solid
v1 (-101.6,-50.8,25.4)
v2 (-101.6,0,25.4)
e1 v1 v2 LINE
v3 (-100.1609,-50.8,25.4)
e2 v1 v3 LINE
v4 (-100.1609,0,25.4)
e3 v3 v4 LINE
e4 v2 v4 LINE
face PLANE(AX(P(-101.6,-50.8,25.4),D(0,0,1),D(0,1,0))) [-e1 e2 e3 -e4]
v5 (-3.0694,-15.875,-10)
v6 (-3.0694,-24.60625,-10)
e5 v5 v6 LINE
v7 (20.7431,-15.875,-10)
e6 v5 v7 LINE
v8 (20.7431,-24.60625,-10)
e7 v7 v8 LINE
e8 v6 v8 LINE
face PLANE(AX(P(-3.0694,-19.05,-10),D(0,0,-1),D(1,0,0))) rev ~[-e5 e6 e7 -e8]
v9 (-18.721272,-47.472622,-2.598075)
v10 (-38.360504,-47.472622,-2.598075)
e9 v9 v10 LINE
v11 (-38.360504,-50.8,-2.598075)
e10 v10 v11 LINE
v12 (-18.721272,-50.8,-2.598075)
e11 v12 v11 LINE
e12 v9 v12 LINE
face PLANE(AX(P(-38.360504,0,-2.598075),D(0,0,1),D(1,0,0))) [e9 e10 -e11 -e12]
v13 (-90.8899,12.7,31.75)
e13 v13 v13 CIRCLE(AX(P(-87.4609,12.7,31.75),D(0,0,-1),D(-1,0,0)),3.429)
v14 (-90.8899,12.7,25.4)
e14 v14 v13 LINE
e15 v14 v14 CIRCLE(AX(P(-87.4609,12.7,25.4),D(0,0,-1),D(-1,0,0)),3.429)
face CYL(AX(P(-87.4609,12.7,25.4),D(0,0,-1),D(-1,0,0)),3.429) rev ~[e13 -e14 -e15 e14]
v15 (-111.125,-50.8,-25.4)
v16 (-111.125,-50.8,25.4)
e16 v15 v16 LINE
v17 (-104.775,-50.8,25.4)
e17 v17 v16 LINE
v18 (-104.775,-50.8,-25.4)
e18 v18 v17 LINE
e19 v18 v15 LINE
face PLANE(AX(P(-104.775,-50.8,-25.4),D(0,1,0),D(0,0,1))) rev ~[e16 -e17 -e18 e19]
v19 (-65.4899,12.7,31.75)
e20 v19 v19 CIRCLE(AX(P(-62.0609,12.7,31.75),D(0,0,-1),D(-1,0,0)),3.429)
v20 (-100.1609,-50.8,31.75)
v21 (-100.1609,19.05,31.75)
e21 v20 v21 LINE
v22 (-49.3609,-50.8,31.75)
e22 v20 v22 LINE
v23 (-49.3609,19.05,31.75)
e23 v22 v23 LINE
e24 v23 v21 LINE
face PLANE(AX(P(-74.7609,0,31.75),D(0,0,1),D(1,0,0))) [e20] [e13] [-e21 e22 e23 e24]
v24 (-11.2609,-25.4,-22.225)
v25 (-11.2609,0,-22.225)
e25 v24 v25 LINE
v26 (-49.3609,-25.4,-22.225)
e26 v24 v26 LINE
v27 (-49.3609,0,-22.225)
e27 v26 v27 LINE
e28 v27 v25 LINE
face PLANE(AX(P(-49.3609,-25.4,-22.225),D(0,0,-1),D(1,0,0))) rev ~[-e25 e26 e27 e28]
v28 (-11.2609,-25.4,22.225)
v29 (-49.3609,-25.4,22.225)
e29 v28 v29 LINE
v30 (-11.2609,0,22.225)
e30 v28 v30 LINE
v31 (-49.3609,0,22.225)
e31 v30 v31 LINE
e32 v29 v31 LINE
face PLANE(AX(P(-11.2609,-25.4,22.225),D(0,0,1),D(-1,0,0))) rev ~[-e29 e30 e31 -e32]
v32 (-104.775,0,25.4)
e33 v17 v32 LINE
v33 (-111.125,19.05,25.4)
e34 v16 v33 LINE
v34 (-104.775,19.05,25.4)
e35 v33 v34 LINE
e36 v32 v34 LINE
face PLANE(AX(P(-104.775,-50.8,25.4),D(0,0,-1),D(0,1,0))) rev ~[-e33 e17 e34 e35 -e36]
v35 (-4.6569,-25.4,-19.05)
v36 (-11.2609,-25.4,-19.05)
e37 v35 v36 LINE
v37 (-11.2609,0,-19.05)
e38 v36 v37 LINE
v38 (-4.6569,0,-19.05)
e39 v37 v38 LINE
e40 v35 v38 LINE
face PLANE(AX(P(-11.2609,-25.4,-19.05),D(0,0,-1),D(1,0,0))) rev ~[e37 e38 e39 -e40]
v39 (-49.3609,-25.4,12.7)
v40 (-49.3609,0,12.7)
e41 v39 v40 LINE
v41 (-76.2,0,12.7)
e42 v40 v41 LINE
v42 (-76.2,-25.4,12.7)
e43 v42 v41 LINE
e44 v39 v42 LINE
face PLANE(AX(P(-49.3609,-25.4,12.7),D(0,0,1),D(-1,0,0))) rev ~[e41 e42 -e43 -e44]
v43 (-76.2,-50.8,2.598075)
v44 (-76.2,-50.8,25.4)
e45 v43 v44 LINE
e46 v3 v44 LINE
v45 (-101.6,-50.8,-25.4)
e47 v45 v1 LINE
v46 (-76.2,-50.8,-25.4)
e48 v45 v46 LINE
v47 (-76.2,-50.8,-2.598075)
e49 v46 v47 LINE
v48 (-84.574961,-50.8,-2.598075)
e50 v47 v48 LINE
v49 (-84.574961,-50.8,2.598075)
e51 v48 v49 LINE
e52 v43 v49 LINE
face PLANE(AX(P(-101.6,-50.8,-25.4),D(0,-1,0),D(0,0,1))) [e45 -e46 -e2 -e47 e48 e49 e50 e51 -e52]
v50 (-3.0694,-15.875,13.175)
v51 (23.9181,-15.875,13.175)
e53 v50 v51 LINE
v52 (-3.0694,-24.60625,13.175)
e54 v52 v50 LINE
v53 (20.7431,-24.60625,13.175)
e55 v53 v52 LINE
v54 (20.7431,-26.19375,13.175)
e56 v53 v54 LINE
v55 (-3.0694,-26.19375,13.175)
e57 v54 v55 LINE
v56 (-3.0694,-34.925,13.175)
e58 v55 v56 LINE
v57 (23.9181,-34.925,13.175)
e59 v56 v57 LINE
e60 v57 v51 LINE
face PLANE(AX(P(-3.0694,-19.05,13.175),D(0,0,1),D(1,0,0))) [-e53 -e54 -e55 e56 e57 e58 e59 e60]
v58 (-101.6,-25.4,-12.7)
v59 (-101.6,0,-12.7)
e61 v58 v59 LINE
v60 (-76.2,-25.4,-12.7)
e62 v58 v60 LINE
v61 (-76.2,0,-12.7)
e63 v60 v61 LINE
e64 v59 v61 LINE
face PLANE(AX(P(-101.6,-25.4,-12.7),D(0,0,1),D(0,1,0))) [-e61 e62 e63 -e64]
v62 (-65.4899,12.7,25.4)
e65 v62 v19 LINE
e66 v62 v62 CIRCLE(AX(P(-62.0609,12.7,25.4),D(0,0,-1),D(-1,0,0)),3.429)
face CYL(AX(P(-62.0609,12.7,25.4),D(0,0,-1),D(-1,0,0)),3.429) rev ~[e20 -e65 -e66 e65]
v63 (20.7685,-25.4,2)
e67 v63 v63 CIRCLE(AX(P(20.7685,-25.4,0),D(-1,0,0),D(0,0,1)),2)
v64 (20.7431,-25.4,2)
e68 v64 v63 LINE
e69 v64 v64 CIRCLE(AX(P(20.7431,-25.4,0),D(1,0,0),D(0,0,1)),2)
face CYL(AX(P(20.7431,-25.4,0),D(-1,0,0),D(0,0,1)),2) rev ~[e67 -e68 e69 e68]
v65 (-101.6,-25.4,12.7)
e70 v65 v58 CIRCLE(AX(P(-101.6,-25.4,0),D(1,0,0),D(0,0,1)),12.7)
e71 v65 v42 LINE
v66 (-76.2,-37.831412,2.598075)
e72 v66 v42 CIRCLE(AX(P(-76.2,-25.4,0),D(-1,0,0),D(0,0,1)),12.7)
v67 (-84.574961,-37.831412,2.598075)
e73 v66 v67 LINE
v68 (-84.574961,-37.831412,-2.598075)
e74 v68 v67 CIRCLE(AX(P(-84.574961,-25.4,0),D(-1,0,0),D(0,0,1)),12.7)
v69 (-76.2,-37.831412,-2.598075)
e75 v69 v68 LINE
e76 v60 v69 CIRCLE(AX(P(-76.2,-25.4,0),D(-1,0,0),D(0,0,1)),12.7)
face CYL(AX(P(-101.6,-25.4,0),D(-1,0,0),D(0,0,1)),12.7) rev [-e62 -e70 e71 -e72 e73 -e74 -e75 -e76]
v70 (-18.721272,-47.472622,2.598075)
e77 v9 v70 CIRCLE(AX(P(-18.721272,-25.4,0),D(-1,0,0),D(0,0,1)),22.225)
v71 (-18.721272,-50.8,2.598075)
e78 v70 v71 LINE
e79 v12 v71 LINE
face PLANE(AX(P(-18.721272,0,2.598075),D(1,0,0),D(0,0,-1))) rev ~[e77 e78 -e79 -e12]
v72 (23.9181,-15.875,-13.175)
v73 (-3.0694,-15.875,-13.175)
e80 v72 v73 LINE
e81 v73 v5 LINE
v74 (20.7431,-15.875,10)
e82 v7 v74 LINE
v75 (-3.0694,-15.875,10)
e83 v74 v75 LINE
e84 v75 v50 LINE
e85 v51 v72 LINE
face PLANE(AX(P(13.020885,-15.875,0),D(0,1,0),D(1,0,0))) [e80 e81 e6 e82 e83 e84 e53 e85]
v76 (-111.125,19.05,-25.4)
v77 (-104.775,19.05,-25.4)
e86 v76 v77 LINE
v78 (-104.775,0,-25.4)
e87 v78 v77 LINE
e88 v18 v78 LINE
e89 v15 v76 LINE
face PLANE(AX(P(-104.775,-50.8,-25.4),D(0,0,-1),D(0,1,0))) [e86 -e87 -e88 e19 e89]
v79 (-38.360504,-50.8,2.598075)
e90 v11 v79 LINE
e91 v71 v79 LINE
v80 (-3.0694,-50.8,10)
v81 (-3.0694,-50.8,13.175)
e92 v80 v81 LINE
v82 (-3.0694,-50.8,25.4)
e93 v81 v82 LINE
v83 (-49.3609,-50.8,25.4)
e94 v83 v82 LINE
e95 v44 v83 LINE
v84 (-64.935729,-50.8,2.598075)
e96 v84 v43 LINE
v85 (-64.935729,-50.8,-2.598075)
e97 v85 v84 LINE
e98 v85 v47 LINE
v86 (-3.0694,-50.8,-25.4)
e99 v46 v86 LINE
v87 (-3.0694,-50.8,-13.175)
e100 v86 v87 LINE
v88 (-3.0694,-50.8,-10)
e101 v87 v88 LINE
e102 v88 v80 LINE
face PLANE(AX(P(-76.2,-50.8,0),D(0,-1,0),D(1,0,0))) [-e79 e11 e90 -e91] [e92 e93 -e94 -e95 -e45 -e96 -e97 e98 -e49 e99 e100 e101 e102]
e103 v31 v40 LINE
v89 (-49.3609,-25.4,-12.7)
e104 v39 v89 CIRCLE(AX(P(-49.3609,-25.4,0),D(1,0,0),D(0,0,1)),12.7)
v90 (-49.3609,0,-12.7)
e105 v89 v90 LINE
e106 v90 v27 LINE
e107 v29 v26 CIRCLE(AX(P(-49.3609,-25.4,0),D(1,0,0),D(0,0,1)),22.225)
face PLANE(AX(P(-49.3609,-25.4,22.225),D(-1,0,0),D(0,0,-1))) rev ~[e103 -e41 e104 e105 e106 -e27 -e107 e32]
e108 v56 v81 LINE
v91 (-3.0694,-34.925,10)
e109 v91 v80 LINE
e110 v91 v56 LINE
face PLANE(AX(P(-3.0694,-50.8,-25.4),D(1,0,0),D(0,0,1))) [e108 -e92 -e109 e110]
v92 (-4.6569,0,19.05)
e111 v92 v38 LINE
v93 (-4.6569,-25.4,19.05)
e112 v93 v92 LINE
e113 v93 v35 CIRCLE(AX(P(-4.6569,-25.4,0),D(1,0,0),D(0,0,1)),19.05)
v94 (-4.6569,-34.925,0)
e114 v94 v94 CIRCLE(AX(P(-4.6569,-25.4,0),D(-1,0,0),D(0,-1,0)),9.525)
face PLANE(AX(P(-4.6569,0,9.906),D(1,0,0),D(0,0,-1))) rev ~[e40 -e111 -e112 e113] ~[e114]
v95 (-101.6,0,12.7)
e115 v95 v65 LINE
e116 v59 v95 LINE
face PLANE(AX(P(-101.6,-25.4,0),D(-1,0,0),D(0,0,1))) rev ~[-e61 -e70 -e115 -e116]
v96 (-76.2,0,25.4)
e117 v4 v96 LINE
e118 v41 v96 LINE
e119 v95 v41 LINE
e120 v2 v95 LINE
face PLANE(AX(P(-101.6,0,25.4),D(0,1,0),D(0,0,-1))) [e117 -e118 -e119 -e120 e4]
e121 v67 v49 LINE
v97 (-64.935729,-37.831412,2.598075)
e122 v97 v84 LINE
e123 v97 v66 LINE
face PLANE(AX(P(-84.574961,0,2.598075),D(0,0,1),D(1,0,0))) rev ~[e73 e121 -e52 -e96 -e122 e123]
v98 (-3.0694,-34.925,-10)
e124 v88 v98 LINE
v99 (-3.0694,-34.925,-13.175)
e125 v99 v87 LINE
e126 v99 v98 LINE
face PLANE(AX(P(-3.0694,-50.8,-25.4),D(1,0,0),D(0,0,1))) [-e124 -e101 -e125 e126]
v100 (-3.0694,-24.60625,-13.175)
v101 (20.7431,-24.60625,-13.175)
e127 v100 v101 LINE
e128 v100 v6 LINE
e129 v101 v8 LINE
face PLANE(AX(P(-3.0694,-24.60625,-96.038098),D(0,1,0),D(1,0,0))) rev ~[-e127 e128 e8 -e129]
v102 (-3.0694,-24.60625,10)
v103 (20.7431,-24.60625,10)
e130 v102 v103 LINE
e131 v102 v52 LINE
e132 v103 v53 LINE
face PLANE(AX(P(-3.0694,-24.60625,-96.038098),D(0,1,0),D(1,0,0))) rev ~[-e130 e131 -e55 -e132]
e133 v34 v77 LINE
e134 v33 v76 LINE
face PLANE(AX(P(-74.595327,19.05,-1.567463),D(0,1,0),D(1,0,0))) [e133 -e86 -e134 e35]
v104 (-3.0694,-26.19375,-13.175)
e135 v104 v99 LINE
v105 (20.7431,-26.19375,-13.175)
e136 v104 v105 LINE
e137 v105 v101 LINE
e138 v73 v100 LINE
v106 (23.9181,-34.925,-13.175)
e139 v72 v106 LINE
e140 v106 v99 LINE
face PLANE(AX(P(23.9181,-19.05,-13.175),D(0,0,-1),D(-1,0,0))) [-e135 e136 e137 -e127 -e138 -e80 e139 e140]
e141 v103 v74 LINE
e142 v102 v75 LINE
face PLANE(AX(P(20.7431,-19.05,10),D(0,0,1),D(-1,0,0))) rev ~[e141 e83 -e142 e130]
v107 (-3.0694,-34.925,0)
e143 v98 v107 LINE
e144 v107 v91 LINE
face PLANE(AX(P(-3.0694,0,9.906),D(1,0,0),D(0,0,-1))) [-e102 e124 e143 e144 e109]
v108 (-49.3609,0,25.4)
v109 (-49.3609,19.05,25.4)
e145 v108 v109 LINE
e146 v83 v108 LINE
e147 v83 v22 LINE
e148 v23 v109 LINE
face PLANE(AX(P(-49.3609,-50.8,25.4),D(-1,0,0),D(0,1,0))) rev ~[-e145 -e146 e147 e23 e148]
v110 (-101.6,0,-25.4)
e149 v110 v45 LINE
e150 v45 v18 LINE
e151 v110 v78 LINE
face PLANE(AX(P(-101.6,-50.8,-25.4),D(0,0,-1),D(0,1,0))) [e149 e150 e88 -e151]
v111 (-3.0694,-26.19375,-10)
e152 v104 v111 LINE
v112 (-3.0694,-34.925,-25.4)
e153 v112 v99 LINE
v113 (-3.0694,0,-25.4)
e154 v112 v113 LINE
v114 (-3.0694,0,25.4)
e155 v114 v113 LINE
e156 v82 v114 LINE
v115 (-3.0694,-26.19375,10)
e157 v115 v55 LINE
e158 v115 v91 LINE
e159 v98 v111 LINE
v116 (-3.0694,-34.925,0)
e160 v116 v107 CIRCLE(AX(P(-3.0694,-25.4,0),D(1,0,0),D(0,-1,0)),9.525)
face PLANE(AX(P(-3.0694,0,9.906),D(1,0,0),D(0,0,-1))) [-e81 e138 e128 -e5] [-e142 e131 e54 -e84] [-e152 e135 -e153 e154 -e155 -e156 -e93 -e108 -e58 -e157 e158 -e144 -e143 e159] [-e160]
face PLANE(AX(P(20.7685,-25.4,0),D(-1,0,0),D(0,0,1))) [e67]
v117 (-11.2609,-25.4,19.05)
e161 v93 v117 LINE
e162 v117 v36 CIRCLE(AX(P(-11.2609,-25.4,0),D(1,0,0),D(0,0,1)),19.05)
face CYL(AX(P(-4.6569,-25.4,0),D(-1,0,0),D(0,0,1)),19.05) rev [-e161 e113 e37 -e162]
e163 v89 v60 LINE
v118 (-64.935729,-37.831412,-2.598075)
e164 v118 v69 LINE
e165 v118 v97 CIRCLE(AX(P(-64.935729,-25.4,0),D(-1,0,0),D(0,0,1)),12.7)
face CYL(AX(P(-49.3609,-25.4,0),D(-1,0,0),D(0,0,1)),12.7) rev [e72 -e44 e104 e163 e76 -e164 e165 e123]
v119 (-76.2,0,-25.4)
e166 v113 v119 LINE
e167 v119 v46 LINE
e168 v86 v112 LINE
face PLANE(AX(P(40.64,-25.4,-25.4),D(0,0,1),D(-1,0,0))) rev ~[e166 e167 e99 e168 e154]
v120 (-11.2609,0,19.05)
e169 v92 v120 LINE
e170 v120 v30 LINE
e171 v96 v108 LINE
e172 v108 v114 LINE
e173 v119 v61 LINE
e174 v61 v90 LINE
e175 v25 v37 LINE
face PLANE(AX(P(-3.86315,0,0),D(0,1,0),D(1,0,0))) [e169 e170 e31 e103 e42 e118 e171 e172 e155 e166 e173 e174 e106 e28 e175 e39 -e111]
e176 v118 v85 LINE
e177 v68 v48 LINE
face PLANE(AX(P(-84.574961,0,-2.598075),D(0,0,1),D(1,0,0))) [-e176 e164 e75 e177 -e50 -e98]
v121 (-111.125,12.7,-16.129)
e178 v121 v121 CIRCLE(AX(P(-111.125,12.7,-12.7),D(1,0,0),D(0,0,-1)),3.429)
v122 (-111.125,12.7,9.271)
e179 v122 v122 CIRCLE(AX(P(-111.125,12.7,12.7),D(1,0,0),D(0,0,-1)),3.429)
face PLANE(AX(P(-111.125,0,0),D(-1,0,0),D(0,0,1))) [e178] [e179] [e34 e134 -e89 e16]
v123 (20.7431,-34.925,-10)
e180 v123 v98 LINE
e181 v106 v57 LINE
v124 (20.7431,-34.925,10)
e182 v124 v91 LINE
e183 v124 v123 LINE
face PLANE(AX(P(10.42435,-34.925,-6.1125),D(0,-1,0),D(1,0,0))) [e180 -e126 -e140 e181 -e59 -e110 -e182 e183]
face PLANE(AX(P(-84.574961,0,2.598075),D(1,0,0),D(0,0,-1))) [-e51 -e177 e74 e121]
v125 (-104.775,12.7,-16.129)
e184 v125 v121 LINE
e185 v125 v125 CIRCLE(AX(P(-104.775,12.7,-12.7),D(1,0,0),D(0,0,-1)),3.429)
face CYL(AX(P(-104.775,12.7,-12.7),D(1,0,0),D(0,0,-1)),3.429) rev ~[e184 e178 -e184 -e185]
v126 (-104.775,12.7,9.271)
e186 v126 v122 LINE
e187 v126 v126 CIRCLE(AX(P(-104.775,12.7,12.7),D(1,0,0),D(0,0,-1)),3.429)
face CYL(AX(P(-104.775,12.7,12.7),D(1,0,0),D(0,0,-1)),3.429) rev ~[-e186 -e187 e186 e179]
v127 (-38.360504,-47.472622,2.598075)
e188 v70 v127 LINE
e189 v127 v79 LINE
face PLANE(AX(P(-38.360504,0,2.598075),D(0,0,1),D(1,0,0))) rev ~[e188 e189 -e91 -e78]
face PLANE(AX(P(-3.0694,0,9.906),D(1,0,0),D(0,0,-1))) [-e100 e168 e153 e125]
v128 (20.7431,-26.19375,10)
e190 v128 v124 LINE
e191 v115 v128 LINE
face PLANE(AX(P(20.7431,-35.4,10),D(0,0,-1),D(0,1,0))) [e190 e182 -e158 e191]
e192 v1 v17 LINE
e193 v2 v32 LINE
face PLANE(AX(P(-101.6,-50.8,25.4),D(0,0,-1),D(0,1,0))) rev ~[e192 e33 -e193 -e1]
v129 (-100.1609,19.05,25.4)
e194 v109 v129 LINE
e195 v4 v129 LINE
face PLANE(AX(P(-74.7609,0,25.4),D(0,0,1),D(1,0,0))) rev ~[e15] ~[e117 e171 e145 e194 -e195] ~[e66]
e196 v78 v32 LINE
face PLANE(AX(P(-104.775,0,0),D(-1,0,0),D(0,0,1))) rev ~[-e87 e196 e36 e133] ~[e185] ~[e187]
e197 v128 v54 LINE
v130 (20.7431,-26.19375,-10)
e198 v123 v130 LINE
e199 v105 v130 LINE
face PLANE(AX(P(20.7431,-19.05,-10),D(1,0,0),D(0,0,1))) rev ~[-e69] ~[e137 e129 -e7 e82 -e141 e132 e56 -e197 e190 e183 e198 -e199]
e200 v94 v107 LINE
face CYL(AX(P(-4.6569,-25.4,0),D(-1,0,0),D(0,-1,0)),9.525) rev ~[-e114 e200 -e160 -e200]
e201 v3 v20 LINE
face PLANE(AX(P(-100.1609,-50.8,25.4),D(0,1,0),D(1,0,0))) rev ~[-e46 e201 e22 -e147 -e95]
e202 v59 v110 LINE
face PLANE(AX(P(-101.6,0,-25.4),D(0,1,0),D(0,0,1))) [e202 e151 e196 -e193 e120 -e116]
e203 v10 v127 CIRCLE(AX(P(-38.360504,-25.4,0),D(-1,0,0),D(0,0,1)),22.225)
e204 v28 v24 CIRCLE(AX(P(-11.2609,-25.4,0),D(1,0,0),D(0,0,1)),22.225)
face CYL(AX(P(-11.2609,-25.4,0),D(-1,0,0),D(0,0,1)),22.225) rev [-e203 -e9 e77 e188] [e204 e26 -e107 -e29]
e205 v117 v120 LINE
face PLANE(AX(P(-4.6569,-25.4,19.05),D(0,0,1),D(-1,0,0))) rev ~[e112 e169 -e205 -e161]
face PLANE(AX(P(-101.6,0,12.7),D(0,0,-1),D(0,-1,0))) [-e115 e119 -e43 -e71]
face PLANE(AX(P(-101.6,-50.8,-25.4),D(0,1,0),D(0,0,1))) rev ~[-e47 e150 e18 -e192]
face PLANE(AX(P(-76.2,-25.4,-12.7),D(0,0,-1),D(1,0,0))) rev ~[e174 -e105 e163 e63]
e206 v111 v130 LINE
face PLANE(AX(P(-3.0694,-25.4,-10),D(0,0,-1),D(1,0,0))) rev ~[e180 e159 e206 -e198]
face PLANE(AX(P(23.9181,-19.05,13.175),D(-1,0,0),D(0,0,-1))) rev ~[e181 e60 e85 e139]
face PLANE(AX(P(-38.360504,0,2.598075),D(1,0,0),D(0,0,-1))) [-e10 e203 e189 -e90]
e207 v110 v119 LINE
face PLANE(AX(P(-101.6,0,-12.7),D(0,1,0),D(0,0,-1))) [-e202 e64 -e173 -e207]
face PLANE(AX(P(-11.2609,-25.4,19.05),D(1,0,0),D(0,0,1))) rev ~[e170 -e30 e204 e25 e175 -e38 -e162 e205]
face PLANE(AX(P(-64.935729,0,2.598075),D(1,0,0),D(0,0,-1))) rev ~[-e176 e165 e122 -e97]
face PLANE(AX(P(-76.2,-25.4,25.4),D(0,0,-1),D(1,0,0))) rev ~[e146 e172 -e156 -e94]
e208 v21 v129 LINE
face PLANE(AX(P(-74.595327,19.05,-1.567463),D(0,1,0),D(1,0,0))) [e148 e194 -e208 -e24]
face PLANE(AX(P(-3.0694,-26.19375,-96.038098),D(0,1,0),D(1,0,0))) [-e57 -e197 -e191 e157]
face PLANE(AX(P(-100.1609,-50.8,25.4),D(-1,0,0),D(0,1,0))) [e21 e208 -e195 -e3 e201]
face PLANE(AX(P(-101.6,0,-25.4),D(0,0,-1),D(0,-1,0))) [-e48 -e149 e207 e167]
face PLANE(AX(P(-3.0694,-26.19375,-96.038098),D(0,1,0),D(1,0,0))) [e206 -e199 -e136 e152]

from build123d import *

# Parameters (mm, degrees)
SKETCH1_W                = 116.84
SKETCH1_H                = 50.8
BOSS_EXTRUDE1_DEPTH      = 25.4
SKETCH38_W               = 20
SKETCH38_H               = 20
CUT_EXTRUDE33_DEPTH      = 23.8125
SKETCH37_W               = 50.8
SKETCH37_H               = 25.4
CUT_EXTRUDE32_DEPTH      = 130.912992422
BOSS_EXTRUDE5_DEPTH      = 25.4
CUT_EXTRUDE54_DEPTH      = 96.038097624
CUT_EXTRUDE54_DEPTH_BACK = 96.038097624
SKETCH45_W               = 43.7094
SKETCH45_H               = 19.05
SKETCH53_R               = 2
CUT_EXTRUDE46_DEPTH      = 0.0254
CUT_EXTRUDE55_DEPTH      = 87.36933773
SKETCH61_R               = 9.906
SKETCH61_R_2             = 9.525
BOSS_EXTRUDE11_DEPTH     = 1.5875
BOSS_EXTRUDE17_REACH     = 97.038
SKETCH70_W               = 1.5875
SKETCH70_H               = 19.812
SKETCH76_W               = 23.8125
SKETCH76_H               = 20
CUT_EXTRUDE58_DEPTH      = 88.776762301
CUT_EXTRUDE59_DEPTH      = 96.038097624
CUT_EXTRUDE59_DEPTH_BACK = 96.038097624
SKETCH77_W               = 23.8125
SKETCH77_H               = 1.5875
BOSS_EXTRUDE24_DEPTH     = 3.175
BOSS_EXTRUDE18_START     = 25.4
BOSS_EXTRUDE18_DEPTH     = 25.4
SKETCH79_W               = 50.8
SKETCH79_H               = 50.8
BOSS_EXTRUDE19_DEPTH     = 3.175
SKETCH80_W               = 50.8
SKETCH80_H               = 101.6
BOSS_EXTRUDE20_DEPTH     = 6.35
SKETCH81_R               = 3.429
CUT_EXTRUDE60_DEPTH      = 141.668809576
SKETCH82_W               = 50.8
SKETCH82_H               = 101.6
BOSS_EXTRUDE21_DEPTH     = 6.35
SKETCH83_R               = 3.429
CUT_EXTRUDE61_DEPTH      = 133.325529
SKETCH84_W               = 110.249820412
SKETCH84_H               = 109.628139174
CUT_EXTRUDE62_DEPTH      = 31.75
SKETCH87_W               = 26.9875
SKETCH87_H               = 38.575
CUT_EXTRUDE63_DEPTH      = 15.875
SKETCH89_W               = 19.639231936
SKETCH89_H               = 5.196150416
CUT_EXTRUDE64_DEPTH      = 127.243685486


with BuildPart() as part:
    # Sketch1 → Boss-Extrude1 (new, symmetric)
    with BuildSketch(Plane.XY):
        with Locations((-17.78, -25.4)):
            Rectangle(SKETCH1_W, SKETCH1_H)
    extrude(amount=BOSS_EXTRUDE1_DEPTH, both=True)

    # Sketch2 → Cut-Revolve1 (revolve, cut)
    with BuildSketch(Plane.XY, mode=Mode.PRIVATE) as cut_revolve1_sk:
        Polygon((-49.3609, -3.175), (-49.3609, -12.7), (-220.202391615, -12.7), (-220.202391615, -25.4), (-157.809194346, -25.4), (-128.417210056, -25.4), (19.629439755, -25.4), (20.7431, -25.4), (20.7431, -15.494), (-4.6569, -15.494), (-4.6569, -6.35), (-11.2609, -6.35), (-11.2609, -3.175), align=None)
    revolve(cut_revolve1_sk.sketch.rotate(Axis((-152.482877195, -25.4, 0), (1, 0, 0)), 90), axis=Axis((-152.482877195, -25.4, 0), (1, 0, 0)), mode=Mode.SUBTRACT)

    # Sketch38 → Cut-Extrude33 (cut)
    with BuildSketch(Plane(origin=(20.7431, 0, 0), x_dir=(0, 0, -1), z_dir=(1, 0, 0))):
        with Locations((0, -25.4)):
            Rectangle(SKETCH38_W, SKETCH38_H)
    extrude(amount=-CUT_EXTRUDE33_DEPTH, mode=Mode.SUBTRACT)

    # Sketch37 → Cut-Extrude32 (cut, through all)
    with BuildSketch(Plane(origin=(40.64, 0, 0), x_dir=(0, 0, -1), z_dir=(1, 0, 0))):
        with Locations((0, -12.7)):
            Rectangle(SKETCH37_W, SKETCH37_H)
    extrude(amount=-CUT_EXTRUDE32_DEPTH, mode=Mode.SUBTRACT)

    # Sketch39 → Boss-Extrude5 (add)
    with BuildSketch(Plane(origin=(0, -25.4, 0), x_dir=(1, 0, 0), z_dir=(0, 1, 0))):
        Polygon((-3.0694, 9.906), (-3.0694, 10), (20.7431, 10), (20.7431, -10), (-3.0694, -10), (-3.0694, -9.906), (-4.6569, -9.906), (-4.6569, -19.05), (-11.2609, -19.05), (-11.2609, -22.225), (-49.3609, -22.225), (-49.3609, -12.7), (-76.2, -12.7), (-76.2, -25.4), (40.64, -25.4), (40.64, 25.4), (-76.2, 25.4), (-76.2, 12.7), (-49.3609, 12.7), (-49.3609, 22.225), (-11.2609, 22.225), (-11.2609, 19.05), (-4.6569, 19.05), (-4.6569, 9.906), align=None)
    extrude(amount=BOSS_EXTRUDE5_DEPTH)

    # Sketch45 → Cut-Extrude54 (cut, two sides: drawn at the far end of the back side and taken through both)
    with BuildSketch(Plane.XY.offset(-CUT_EXTRUDE54_DEPTH_BACK)):
        with Locations((18.7853, -9.525)):
            Rectangle(SKETCH45_W, SKETCH45_H)
    extrude(amount=CUT_EXTRUDE54_DEPTH + CUT_EXTRUDE54_DEPTH_BACK, mode=Mode.SUBTRACT)

    # Sketch53 → Cut-Extrude46 (cut)
    with BuildSketch(Plane.ZY.offset(-20.7431)):
        with Locations((0, -25.4)):
            Circle(SKETCH53_R)
    extrude(amount=-CUT_EXTRUDE46_DEPTH, mode=Mode.SUBTRACT)

    # Sketch72 → Cut-Extrude55 (cut, through all)
    with BuildSketch(Plane(origin=(0, -19.05, 0), x_dir=(1, 0, 0), z_dir=(0, 1, 0))):
        Polygon((-3.0694, -25.4), (-3.0694, -13.175), (23.9181, -13.175), (23.9181, 13.175), (-3.0694, 13.175), (-3.0694, 25.4), (40.64, 25.4), (40.64, -25.4), align=None)
    extrude(amount=-CUT_EXTRUDE55_DEPTH, mode=Mode.SUBTRACT)

    # Sketch61 → Boss-Extrude11 (add)
    with BuildSketch(Plane.ZY.offset(4.6569)):
        with Locations((0, -25.4)):
            Circle(SKETCH61_R)
        with Locations(Location((0, -25.4, 0), (0, 0, 270))):
            Circle(SKETCH61_R_2, mode=Mode.SUBTRACT)
    extrude(amount=-BOSS_EXTRUDE11_DEPTH)

    # Sketch70 → Boss-Extrude17 (add, up to next)
    with BuildSketch(Plane(origin=(0, 0, 0), x_dir=(1, 0, 0), z_dir=(0, 1, 0)), mode=Mode.PRIVATE) as boss_extrude17_sk1:
        with Locations((-3.86315, 0)):
            Rectangle(SKETCH70_W, SKETCH70_H)
    boss_extrude17_tool1 = extrude(boss_extrude17_sk1.sketch, amount=-BOSS_EXTRUDE17_REACH, mode=Mode.PRIVATE) - part.part
    add(boss_extrude17_tool1.solids().sort_by_distance((-3.86315, 0, 0))[0])

    # Sketch76 → Cut-Extrude58 (cut, through all)
    with BuildSketch(Plane(origin=(0, -35.4, 0), x_dir=(1, 0, 0), z_dir=(0, 1, 0))):
        with Locations((8.83685, 0)):
            Rectangle(SKETCH76_W, SKETCH76_H)
    extrude(amount=-CUT_EXTRUDE58_DEPTH, mode=Mode.SUBTRACT)

    # Sketch77 → Cut-Extrude59 (cut, two sides: drawn at the far end of the back side and taken through both)
    with BuildSketch(Plane.XY.offset(-CUT_EXTRUDE59_DEPTH_BACK)):
        with Locations((8.83685, -25.4)):
            Rectangle(SKETCH77_W, SKETCH77_H)
    extrude(amount=CUT_EXTRUDE59_DEPTH + CUT_EXTRUDE59_DEPTH_BACK, mode=Mode.SUBTRACT)

    # Sketch86 → Boss-Extrude24 (add)
    with BuildSketch(Plane(origin=(0, -19.05, 0), x_dir=(1, 0, 0), z_dir=(0, 1, 0))):
        Polygon((20.7431, 10), (20.7431, -10), (-3.0694, -10), (-3.0694, -13.175), (23.9181, -13.175), (23.9181, 13.175), (-3.0694, 13.175), (-3.0694, 10), align=None)
    extrude(amount=BOSS_EXTRUDE24_DEPTH)

    # Sketch78 → Boss-Extrude18 (add)
    with BuildSketch(Plane.ZY.offset(76.2).offset(BOSS_EXTRUDE18_START)):
        with BuildLine():
            Line((25.4, -50.8), (25.4, 0))
            Line((25.4, 0), (12.7, 0))
            Line((12.7, 0), (12.7, -25.4))
            ThreePointArc((12.7, -25.4), (0, -38.1), (-12.7, -25.4))
            Line((-12.7, -25.4), (-12.7, 0))
            Line((-12.7, 0), (-25.4, 0))
            Line((-25.4, 0), (-25.4, -50.8))
            Line((-25.4, -50.8), (25.4, -50.8))
        make_face()
    extrude(amount=-BOSS_EXTRUDE18_DEPTH)

    # Sketch79 → Boss-Extrude19 (add)
    with BuildSketch(Plane.ZY.offset(101.6)):
        with Locations((0, -25.4)):
            Rectangle(SKETCH79_W, SKETCH79_H)
    extrude(amount=BOSS_EXTRUDE19_DEPTH)

    # Sketch80 → Boss-Extrude20 (add)
    with BuildSketch(Plane.ZY.offset(104.775)):
        Rectangle(SKETCH80_W, SKETCH80_H)
    extrude(amount=BOSS_EXTRUDE20_DEPTH)

    # Sketch81 → Cut-Extrude60 (cut, through all)
    with BuildSketch(Plane(origin=(-104.775, 0, 0), x_dir=(0, 0, -1), z_dir=(1, 0, 0))):
        with Locations((-12.7, 38.1)):
            Circle(SKETCH81_R)
        with Locations((12.7, 38.1)):
            Circle(SKETCH81_R)
        with Locations((12.7, 12.7)):
            Circle(SKETCH81_R)
        with Locations((-12.7, 12.7)):
            Circle(SKETCH81_R)
    extrude(amount=-CUT_EXTRUDE60_DEPTH, mode=Mode.SUBTRACT)

    # Sketch82 → Boss-Extrude21 (add)
    with BuildSketch(Plane.XY.offset(25.4)):
        with Locations((-74.7609, 0)):
            Rectangle(SKETCH82_W, SKETCH82_H)
    extrude(amount=BOSS_EXTRUDE21_DEPTH)

    # Sketch83 → Cut-Extrude61 (cut, through all)
    with BuildSketch(Plane(origin=(0, 0, 25.4), x_dir=(-1, 0, 0), z_dir=(0, 0, -1))):
        with Locations((62.0609, 38.1)):
            Circle(SKETCH83_R)
        with Locations((87.4609, 38.1)):
            Circle(SKETCH83_R)
        with Locations((87.4609, 12.7)):
            Circle(SKETCH83_R)
        with Locations((62.0609, 12.7)):
            Circle(SKETCH83_R)
    extrude(amount=-CUT_EXTRUDE61_DEPTH, mode=Mode.SUBTRACT)

    # Sketch84 → Cut-Extrude62 (cut)
    with BuildSketch(Plane(origin=(0, 50.8, 0), x_dir=(1, 0, 0), z_dir=(0, 1, 0))):
        with Locations((-74.595326767, 1.567462675)):
            Rectangle(SKETCH84_W, SKETCH84_H)
    extrude(amount=-CUT_EXTRUDE62_DEPTH, mode=Mode.SUBTRACT)

    # Sketch87 → Cut-Extrude63 (cut)
    with BuildSketch(Plane.XZ.offset(50.8)):
        with Locations((10.42435, -6.1125)):
            Rectangle(SKETCH87_W, SKETCH87_H)
    extrude(amount=-CUT_EXTRUDE63_DEPTH, mode=Mode.SUBTRACT)

    # Sketch89 → Cut-Extrude64 (cut, through all)
    with BuildSketch(Plane(origin=(0, 0, 0), x_dir=(1, 0, 0), z_dir=(0, 1, 0))):
        with Locations((-28.540888117, 0)):
            Rectangle(SKETCH89_W, SKETCH89_H)
        with Locations((-74.75534535, 0)):
            Rectangle(SKETCH89_W, SKETCH89_H)
    extrude(amount=-CUT_EXTRUDE64_DEPTH, mode=Mode.SUBTRACT)


solid = part.part
